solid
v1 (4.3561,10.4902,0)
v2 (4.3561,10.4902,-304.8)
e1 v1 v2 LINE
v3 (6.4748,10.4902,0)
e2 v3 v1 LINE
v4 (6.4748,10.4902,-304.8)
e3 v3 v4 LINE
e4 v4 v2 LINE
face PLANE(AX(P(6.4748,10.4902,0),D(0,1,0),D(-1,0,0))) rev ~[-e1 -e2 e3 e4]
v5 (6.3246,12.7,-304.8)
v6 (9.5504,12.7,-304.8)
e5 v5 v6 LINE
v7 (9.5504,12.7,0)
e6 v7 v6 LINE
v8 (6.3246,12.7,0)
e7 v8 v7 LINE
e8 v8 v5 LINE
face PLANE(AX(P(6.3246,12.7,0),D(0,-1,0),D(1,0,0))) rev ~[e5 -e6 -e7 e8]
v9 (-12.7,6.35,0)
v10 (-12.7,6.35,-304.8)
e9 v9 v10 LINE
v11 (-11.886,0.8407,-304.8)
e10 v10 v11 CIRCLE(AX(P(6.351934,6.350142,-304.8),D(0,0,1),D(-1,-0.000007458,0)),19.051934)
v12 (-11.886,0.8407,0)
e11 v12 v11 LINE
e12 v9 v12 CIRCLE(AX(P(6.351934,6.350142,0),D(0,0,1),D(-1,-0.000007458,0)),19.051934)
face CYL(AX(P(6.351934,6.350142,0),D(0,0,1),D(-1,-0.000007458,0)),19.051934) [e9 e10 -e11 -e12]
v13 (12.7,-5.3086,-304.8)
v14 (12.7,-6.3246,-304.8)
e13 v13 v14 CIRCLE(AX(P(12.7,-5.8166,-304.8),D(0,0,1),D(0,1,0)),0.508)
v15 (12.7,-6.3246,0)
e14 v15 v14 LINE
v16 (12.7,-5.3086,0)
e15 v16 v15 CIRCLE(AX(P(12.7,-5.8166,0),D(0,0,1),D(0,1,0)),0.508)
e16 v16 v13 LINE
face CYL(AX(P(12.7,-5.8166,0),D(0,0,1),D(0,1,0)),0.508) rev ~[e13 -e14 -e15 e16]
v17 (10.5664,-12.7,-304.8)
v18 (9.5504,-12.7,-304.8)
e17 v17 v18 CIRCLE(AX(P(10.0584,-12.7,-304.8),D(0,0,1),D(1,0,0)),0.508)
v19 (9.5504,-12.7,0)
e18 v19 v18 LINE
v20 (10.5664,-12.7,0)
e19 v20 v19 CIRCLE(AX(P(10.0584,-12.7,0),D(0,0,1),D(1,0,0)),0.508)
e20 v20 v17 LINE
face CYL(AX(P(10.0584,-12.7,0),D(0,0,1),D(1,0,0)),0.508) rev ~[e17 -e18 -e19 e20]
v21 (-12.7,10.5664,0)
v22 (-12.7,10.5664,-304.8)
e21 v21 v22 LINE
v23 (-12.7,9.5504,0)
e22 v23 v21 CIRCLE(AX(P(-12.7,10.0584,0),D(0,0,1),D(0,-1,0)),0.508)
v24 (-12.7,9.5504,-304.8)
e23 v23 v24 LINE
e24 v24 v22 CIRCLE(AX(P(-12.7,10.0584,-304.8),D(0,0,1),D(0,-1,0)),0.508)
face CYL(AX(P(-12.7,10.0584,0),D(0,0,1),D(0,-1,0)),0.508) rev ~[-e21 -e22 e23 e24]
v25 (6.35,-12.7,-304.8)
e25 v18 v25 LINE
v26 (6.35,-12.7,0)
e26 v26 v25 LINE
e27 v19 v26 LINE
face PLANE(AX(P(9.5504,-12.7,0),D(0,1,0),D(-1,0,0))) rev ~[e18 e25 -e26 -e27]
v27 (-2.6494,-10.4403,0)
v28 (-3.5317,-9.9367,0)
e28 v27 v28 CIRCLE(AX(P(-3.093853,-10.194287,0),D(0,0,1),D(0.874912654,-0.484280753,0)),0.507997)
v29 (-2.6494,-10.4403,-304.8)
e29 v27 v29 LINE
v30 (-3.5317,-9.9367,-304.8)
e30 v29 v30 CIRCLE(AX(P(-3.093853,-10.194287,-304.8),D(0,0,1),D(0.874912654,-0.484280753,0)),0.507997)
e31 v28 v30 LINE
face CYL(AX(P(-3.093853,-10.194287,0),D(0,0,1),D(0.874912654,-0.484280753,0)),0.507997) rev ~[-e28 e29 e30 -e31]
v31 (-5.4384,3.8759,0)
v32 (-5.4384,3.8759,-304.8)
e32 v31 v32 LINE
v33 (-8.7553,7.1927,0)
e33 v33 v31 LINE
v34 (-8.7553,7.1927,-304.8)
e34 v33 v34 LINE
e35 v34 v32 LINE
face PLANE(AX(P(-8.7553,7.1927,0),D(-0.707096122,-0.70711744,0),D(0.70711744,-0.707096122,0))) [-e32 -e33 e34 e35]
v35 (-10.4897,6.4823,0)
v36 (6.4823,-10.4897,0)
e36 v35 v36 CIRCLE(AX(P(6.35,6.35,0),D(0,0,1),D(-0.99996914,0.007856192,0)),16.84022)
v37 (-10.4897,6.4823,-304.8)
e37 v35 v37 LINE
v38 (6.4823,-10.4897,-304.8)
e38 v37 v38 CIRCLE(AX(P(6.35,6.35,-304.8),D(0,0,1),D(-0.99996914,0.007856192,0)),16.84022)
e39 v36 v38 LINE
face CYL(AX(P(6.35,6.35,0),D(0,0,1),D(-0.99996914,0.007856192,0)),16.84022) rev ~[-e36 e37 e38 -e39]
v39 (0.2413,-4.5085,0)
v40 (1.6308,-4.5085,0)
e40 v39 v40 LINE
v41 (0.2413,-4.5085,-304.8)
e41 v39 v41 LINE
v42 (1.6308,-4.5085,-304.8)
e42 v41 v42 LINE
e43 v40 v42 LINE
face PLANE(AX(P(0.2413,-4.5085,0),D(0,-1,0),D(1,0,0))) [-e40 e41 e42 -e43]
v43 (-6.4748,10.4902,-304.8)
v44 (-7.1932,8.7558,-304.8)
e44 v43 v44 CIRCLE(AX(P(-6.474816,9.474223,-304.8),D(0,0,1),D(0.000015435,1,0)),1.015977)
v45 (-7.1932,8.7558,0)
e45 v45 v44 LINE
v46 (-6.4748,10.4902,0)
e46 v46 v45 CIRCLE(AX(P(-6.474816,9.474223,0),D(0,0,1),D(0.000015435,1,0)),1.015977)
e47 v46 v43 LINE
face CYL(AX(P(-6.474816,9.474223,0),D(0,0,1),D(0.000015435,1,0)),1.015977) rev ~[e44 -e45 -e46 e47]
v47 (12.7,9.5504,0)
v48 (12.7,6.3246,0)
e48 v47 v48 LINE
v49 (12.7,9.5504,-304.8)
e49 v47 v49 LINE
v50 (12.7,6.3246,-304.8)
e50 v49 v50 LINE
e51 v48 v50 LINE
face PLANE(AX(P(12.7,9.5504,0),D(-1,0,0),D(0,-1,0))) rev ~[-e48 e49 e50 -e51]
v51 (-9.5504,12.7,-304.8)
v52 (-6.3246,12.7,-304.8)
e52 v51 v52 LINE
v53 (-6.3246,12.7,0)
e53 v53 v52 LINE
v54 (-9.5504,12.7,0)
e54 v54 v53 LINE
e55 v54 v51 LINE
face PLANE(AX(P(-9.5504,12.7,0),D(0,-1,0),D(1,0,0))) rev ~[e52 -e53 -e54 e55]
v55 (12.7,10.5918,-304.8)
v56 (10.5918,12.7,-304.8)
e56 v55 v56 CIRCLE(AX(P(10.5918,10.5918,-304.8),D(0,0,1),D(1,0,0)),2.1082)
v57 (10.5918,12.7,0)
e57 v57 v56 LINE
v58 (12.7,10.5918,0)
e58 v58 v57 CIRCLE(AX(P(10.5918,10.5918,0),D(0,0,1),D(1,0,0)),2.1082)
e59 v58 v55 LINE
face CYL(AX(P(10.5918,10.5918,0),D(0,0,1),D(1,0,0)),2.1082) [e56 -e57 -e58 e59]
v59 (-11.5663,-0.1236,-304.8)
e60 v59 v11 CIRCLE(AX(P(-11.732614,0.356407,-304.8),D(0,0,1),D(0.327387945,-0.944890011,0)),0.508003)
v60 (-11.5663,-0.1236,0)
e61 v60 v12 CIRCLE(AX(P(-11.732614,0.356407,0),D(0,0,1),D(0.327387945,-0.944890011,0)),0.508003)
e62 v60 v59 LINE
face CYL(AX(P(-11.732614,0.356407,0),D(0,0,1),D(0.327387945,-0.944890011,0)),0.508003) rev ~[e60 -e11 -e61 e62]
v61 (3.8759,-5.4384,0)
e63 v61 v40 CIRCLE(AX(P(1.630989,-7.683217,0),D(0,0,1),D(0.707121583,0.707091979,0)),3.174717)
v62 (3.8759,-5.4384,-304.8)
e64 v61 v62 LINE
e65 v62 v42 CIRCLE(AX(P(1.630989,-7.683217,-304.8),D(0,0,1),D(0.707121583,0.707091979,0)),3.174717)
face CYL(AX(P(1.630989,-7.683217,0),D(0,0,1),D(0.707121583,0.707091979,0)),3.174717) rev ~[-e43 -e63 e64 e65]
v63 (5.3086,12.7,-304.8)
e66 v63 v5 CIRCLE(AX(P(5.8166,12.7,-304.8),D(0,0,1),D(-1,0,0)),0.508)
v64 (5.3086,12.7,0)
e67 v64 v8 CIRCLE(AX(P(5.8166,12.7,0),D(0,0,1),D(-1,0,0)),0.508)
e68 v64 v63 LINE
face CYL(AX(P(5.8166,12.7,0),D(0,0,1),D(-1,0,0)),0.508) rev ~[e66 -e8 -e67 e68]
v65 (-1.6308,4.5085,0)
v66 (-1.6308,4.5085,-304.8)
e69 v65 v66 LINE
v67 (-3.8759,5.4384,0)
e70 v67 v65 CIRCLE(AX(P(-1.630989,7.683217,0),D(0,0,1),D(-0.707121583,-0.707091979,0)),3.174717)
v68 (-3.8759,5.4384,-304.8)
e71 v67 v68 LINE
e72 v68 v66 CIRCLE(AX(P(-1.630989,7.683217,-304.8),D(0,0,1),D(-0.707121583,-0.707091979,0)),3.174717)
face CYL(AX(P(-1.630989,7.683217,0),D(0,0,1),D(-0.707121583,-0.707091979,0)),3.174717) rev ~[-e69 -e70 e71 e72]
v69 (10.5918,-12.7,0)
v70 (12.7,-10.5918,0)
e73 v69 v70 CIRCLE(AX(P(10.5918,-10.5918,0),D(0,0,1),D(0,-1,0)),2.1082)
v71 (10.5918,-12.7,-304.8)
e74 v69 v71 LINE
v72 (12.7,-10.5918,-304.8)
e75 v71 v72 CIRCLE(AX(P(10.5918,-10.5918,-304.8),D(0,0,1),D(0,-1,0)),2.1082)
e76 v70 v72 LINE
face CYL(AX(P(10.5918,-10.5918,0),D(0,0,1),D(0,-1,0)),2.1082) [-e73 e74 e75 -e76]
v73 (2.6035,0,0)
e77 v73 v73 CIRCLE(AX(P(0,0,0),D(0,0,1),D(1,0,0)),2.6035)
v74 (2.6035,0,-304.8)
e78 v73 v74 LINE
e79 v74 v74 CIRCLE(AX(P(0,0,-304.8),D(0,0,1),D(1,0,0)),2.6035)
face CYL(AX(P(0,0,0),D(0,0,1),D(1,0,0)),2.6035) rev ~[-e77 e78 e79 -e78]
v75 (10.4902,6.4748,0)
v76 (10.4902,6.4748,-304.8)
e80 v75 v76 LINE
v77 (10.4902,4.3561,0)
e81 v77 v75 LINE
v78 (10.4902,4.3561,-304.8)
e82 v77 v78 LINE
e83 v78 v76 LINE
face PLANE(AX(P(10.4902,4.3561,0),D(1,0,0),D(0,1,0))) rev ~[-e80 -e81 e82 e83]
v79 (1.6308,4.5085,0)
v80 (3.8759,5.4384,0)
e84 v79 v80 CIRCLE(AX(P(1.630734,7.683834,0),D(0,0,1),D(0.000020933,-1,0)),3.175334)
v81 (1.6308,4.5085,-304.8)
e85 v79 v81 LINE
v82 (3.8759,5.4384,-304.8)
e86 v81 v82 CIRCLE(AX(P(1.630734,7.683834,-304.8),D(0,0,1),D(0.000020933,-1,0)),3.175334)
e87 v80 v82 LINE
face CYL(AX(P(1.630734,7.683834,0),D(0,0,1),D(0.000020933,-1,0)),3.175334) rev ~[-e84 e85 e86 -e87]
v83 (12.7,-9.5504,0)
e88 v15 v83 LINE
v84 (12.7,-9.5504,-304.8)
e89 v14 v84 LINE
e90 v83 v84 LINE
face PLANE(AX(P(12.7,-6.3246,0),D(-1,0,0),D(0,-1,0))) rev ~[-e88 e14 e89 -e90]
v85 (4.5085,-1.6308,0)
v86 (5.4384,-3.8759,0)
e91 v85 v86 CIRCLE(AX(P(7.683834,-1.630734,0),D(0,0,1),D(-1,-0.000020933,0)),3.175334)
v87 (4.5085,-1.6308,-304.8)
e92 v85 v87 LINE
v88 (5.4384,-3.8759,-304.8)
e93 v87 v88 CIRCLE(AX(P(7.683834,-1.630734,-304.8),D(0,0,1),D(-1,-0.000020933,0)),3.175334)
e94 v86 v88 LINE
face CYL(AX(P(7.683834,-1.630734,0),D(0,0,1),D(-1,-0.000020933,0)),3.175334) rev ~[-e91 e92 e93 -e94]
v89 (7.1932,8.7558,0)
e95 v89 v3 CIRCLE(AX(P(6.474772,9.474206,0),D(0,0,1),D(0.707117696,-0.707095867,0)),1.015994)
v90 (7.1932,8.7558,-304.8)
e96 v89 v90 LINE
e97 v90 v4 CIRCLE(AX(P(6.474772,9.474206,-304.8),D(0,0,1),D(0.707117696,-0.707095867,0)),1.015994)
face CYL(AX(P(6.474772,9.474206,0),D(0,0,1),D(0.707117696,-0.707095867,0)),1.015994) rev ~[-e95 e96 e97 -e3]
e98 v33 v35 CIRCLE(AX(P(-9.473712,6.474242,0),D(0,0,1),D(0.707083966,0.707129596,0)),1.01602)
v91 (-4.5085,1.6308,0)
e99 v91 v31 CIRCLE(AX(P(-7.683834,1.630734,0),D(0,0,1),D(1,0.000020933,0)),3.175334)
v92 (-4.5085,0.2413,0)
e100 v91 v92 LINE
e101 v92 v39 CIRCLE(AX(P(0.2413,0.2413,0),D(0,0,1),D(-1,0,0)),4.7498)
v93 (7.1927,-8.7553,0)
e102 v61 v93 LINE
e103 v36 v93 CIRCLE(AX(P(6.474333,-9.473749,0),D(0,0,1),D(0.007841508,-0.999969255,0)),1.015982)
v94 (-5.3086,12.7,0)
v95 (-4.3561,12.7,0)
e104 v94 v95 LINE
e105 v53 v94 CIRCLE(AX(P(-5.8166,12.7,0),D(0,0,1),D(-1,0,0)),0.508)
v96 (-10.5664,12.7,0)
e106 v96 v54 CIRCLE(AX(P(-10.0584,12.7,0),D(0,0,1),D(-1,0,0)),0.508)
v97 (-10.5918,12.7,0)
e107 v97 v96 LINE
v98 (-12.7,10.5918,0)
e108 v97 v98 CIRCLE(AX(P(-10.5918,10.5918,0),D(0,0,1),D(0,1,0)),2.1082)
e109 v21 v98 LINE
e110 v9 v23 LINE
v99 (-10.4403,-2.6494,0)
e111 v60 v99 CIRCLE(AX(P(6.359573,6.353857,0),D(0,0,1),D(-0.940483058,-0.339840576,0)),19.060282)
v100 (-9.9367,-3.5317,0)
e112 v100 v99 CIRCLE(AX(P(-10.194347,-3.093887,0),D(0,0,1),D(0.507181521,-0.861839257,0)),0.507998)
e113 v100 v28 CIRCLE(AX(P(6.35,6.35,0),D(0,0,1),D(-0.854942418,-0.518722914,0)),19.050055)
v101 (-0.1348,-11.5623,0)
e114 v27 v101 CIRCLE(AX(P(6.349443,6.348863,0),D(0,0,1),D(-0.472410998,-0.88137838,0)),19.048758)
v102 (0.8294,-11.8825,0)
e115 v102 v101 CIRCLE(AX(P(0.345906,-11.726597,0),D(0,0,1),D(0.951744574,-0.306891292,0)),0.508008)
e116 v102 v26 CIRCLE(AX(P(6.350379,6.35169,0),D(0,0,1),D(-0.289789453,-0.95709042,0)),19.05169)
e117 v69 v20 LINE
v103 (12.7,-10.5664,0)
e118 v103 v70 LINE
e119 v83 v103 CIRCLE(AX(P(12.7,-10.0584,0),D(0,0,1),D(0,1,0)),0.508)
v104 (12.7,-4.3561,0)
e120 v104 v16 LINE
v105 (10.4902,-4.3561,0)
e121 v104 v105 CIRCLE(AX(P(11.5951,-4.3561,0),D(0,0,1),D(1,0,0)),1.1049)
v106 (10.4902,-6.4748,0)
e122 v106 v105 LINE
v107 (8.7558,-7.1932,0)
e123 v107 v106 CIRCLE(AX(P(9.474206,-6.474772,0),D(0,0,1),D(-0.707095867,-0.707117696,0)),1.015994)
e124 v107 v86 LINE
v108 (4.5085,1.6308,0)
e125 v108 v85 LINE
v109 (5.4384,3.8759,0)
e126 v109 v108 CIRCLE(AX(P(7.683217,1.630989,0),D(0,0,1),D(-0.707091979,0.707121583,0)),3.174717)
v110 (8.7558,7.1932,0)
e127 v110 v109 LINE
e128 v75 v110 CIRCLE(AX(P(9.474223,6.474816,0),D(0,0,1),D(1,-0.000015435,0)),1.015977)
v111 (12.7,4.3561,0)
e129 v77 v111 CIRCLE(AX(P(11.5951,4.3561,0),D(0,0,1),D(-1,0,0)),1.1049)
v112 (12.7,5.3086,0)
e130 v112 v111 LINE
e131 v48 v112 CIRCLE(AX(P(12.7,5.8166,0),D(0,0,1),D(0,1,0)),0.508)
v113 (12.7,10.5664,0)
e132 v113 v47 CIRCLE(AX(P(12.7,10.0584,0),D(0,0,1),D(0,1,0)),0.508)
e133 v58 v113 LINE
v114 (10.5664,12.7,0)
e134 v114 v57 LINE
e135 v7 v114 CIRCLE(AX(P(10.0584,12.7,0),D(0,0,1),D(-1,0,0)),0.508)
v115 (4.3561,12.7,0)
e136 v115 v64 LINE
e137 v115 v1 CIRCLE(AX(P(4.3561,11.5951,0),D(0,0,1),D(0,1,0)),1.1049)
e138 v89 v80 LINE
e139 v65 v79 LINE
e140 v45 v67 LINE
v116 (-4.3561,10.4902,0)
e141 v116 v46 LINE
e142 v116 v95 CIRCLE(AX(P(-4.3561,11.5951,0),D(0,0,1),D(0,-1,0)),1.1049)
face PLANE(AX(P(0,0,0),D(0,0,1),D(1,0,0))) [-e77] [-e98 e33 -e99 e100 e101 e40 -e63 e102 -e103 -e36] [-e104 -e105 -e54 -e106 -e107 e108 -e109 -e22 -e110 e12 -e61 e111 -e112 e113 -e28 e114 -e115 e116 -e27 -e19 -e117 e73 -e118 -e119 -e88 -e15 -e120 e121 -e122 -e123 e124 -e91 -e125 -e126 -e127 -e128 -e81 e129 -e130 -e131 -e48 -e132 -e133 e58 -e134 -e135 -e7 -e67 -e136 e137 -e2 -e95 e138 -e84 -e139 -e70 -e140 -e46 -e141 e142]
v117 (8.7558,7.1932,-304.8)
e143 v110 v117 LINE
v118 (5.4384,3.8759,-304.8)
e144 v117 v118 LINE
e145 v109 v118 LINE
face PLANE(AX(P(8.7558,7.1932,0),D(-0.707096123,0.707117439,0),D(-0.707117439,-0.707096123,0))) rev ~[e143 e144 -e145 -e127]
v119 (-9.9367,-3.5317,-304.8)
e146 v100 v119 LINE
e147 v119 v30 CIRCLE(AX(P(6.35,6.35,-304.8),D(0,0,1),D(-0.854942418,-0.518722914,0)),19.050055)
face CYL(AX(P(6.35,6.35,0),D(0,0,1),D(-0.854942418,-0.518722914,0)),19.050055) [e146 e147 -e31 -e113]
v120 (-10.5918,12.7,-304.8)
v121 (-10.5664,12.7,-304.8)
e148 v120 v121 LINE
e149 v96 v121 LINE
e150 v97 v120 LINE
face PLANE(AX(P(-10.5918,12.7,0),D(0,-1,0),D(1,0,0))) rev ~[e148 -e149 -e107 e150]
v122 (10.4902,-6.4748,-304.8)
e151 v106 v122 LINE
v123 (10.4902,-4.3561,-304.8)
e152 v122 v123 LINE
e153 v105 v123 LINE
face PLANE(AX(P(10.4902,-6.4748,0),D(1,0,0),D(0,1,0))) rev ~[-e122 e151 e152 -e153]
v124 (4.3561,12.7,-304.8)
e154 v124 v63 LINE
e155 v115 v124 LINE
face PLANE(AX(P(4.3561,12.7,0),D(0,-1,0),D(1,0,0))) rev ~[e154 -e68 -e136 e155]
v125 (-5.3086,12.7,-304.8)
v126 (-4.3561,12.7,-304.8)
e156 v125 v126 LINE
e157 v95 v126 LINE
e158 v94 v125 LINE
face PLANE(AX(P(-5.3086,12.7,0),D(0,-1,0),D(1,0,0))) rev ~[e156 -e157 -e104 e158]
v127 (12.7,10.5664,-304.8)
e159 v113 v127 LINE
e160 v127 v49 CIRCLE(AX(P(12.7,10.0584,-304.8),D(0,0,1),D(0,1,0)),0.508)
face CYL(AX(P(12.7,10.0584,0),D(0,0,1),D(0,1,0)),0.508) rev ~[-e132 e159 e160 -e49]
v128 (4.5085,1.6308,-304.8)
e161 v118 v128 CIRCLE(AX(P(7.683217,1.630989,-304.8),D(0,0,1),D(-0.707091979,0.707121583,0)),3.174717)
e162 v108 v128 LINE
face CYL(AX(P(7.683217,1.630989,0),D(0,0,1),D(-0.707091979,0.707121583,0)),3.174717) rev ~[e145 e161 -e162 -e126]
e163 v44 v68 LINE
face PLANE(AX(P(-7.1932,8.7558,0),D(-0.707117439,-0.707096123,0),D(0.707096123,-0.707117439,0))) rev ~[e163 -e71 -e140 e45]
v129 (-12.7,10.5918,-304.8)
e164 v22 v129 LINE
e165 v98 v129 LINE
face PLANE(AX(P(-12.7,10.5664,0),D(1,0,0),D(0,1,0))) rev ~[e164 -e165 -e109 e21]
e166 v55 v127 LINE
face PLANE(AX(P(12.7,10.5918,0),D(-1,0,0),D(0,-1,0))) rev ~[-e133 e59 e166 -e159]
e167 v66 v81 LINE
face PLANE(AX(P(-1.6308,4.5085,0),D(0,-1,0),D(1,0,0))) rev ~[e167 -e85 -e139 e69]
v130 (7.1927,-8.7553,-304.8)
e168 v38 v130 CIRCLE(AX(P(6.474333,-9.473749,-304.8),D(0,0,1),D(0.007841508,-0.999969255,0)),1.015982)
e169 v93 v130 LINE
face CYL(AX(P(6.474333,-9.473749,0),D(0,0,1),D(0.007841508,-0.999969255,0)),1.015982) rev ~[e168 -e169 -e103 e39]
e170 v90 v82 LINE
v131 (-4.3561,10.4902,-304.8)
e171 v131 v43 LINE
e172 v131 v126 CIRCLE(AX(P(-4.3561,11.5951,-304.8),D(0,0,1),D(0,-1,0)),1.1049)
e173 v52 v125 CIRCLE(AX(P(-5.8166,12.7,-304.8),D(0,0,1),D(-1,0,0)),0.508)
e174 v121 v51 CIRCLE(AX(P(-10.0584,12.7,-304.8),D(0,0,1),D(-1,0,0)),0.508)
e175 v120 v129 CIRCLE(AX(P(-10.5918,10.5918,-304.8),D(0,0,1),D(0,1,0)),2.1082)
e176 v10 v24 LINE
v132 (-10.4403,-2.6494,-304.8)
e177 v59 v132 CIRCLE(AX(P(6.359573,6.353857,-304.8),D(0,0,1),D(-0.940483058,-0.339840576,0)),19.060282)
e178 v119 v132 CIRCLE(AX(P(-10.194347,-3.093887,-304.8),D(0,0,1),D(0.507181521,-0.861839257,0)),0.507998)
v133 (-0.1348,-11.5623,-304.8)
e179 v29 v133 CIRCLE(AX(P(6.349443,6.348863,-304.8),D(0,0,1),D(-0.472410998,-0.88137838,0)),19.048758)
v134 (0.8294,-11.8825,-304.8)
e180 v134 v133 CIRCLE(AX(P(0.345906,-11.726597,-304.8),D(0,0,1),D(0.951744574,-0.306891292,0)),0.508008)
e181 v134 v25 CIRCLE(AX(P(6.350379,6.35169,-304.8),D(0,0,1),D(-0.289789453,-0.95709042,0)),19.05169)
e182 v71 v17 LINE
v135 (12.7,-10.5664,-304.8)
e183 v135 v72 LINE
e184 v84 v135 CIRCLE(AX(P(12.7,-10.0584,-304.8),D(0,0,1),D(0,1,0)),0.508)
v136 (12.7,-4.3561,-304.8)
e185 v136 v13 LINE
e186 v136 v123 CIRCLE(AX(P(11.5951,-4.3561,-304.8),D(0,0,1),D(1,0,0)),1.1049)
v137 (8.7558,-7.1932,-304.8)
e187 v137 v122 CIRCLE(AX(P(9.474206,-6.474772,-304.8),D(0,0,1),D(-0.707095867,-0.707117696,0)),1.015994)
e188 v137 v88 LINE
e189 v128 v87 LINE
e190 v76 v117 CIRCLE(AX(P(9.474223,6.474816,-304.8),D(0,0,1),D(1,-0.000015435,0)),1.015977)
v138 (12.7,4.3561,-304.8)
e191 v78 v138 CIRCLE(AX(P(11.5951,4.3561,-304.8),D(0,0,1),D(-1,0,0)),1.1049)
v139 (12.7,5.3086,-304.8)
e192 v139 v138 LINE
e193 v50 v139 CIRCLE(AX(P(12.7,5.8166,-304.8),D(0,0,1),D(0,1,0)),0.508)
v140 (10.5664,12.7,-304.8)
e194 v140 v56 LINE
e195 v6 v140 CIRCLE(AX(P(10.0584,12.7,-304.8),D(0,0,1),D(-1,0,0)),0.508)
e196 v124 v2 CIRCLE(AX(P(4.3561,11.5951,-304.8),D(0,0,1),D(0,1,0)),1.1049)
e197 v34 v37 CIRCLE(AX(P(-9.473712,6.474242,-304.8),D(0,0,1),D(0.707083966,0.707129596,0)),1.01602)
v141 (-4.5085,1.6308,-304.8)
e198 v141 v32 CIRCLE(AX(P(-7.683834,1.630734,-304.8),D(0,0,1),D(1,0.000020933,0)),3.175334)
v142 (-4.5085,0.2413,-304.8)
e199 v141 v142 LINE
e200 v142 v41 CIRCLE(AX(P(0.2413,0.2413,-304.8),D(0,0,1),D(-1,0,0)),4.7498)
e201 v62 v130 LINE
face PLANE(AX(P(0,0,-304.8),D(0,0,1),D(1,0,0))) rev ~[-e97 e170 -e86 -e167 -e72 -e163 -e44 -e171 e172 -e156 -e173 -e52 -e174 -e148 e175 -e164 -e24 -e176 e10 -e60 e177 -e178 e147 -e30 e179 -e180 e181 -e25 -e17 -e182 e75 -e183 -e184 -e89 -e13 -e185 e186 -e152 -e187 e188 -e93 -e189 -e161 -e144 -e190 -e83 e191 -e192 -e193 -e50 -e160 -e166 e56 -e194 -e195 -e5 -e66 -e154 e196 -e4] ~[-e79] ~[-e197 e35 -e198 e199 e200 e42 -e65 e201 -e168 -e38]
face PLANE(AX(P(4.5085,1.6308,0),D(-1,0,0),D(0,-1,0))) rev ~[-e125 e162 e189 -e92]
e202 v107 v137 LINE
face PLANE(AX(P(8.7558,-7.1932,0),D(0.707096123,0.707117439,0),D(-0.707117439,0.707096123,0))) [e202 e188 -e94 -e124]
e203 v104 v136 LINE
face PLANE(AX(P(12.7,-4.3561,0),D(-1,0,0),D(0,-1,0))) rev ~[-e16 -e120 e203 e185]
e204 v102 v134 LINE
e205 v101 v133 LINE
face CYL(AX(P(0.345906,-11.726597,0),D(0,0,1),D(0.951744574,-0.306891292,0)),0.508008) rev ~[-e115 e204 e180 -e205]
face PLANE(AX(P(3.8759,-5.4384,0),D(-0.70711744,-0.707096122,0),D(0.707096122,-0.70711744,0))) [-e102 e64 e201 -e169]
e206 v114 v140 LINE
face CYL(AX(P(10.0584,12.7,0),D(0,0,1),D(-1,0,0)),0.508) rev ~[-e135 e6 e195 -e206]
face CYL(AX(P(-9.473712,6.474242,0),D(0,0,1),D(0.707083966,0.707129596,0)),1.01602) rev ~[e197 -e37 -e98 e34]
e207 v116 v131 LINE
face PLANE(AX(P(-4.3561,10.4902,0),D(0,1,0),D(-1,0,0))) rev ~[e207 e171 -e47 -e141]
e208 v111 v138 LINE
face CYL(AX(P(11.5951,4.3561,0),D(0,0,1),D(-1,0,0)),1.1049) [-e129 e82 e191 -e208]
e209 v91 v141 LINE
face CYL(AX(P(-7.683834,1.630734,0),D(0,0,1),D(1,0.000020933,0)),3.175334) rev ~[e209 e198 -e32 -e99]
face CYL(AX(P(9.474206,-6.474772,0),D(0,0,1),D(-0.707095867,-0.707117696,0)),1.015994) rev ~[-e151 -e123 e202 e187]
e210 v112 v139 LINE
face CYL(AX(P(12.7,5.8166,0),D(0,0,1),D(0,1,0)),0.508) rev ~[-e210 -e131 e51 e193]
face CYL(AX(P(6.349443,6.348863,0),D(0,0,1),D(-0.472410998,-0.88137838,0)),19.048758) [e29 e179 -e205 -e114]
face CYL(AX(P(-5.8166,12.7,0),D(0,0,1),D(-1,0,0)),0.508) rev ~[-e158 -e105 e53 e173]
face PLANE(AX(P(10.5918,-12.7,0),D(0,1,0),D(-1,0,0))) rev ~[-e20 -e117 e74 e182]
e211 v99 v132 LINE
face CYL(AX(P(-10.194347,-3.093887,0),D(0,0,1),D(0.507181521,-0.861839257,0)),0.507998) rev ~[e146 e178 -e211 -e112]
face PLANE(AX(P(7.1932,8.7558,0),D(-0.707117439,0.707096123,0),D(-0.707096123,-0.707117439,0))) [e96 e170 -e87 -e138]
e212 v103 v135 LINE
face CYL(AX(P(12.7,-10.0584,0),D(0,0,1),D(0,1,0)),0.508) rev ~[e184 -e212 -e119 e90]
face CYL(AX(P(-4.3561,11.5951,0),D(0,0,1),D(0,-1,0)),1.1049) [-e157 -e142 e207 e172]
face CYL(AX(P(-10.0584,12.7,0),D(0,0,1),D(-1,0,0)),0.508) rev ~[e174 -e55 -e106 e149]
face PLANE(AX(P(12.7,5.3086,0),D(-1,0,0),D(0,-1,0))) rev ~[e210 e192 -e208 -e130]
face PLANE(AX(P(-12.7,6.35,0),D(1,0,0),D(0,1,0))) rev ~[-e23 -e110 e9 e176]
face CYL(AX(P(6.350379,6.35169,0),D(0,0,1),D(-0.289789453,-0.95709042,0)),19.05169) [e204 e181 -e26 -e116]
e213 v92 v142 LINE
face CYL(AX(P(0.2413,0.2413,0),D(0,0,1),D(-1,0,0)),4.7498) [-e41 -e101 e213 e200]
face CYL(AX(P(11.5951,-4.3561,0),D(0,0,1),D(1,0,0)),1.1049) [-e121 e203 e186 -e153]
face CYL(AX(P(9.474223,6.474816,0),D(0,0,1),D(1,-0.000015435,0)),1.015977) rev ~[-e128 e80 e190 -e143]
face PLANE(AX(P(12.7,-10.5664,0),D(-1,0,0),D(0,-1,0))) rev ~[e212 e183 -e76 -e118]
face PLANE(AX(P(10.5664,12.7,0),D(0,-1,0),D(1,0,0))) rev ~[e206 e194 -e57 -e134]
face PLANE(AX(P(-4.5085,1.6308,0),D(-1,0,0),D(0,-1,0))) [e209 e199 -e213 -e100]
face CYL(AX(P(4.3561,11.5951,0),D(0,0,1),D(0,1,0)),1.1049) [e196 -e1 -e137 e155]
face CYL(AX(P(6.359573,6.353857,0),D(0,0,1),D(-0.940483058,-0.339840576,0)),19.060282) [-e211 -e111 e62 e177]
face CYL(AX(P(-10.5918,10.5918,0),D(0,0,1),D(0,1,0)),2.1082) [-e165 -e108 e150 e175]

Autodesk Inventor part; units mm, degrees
ref_plane "YZ Plane" through (0, 0, 0) normal (1, 0, 0) x (0, 1, 0)
ref_plane "XZ Plane" through (0, 0, 0) normal (0, 1, 0) x (-1, 0, 0)
ref_plane "XY Plane" through (0, 0, 0) normal (0, 0, 1) x (1, 0, 0)
sketch "Sketch1" plane through (0, 0, 0) normal (0, 0, 1) x (1, 0, 0)
  arc A0 (-11.5663, -0.1236) -> (-11.886, 0.8407) centre (-11.7326, 0.3564) ccw
  arc A1 (-11.5663, -0.1236) -> (-10.4403, -2.6494) centre (6.35, 6.35) ccw
  arc A2 (-12.7, 6.35) -> (-11.886, 0.8407) centre (6.35, 6.35) ccw
  arc A3 (-9.9367, -3.5317) -> (-10.4403, -2.6494) centre (-10.1943, -3.0939) ccw
  line L0 (-12.7, 6.35) -> (-12.7, 9.5504)
  arc A4 (-9.9367, -3.5317) -> (-3.5317, -9.9367) centre (6.35, 6.35) ccw
  arc A5 (-12.7, 9.5504) -> (-12.7, 10.5664) centre (-12.7, 10.0584) ccw
  arc A6 (-2.6494, -10.4403) -> (-3.5317, -9.9367) centre (-3.0939, -10.1943) ccw
  line L1 (-12.7, 10.5664) -> (-12.7, 10.5918)
  arc A7 (-2.6494, -10.4403) -> (-0.1348, -11.5623) centre (6.35, 6.35) ccw
  arc A8 (-10.5918, 12.7) -> (-12.7, 10.5918) centre (-10.5918, 10.5918) ccw
  arc A9 (0.8294, -11.8825) -> (-0.1348, -11.5623) centre (0.3459, -11.7266) ccw
  line L2 (-10.5918, 12.7) -> (-10.5664, 12.7)
  arc A10 (0.8294, -11.8825) -> (6.35, -12.7) centre (6.35, 6.35) ccw
  arc A11 (-10.5664, 12.7) -> (-9.5504, 12.7) centre (-10.0584, 12.7) ccw
  line L3 (9.5504, -12.7) -> (6.35, -12.7)
  line L4 (-9.5504, 12.7) -> (-6.3246, 12.7)
  arc A12 (10.5664, -12.7) -> (9.5504, -12.7) centre (10.0584, -12.7) ccw
  arc A13 (-6.3246, 12.7) -> (-5.3086, 12.7) centre (-5.8166, 12.7) ccw
  line L5 (10.5918, -12.7) -> (10.5664, -12.7)
  line L6 (-5.3086, 12.7) -> (-4.3561, 12.7)
  arc A14 (10.5918, -12.7) -> (12.7, -10.5918) centre (10.5918, -10.5918) ccw
  arc A15 (-4.3561, 10.4902) -> (-4.3561, 12.7) centre (-4.3561, 11.5951) ccw
  line L7 (12.7, -10.5664) -> (12.7, -10.5918)
  line L8 (-4.3561, 10.4902) -> (-6.4748, 10.4902)
  arc A16 (12.7, -9.5504) -> (12.7, -10.5664) centre (12.7, -10.0584) ccw
  arc A17 (-6.4748, 10.4902) -> (-7.1932, 8.7558) centre (-6.4748, 9.4742) ccw
  line L9 (12.7, -6.3246) -> (12.7, -9.5504)
  line L10 (-7.1932, 8.7558) -> (-3.8759, 5.4384)
  arc A18 (12.7, -5.3086) -> (12.7, -6.3246) centre (12.7, -5.8166) ccw
  arc A19 (-3.8759, 5.4384) -> (-1.6308, 4.5085) centre (-1.6308, 7.6835) ccw
  line L11 (12.7, -4.3561) -> (12.7, -5.3086)
  line L12 (-1.6308, 4.5085) -> (1.6308, 4.5085)
  arc A20 (12.7, -4.3561) -> (10.4902, -4.3561) centre (11.5951, -4.3561) ccw
  arc A21 (1.6308, 4.5085) -> (3.8759, 5.4384) centre (1.6308, 7.6835) ccw
  line L13 (10.4902, -6.4748) -> (10.4902, -4.3561)
  line L14 (7.1932, 8.7558) -> (3.8759, 5.4384)
  arc A22 (8.7558, -7.1932) -> (10.4902, -6.4748) centre (9.4742, -6.4748) ccw
  arc A23 (7.1932, 8.7558) -> (6.4748, 10.4902) centre (6.4748, 9.4742) ccw
  line L15 (8.7558, -7.1932) -> (5.4384, -3.8759)
  line L16 (6.4748, 10.4902) -> (4.3561, 10.4902)
  arc A24 (4.5085, -1.6308) -> (5.4384, -3.8759) centre (7.6835, -1.6308) ccw
  arc A25 (4.3561, 12.7) -> (4.3561, 10.4902) centre (4.3561, 11.5951) ccw
  line L17 (4.5085, 1.6308) -> (4.5085, -1.6308)
  line L18 (4.3561, 12.7) -> (5.3086, 12.7)
  arc A26 (5.4384, 3.8759) -> (4.5085, 1.6308) centre (7.6835, 1.6308) ccw
  arc A27 (5.3086, 12.7) -> (6.3246, 12.7) centre (5.8166, 12.7) ccw
  line L19 (8.7558, 7.1932) -> (5.4384, 3.8759)
  line L20 (6.3246, 12.7) -> (9.5504, 12.7)
  arc A28 (10.4902, 6.4748) -> (8.7558, 7.1932) centre (9.4742, 6.4748) ccw
  arc A29 (9.5504, 12.7) -> (10.5664, 12.7) centre (10.0584, 12.7) ccw
  line L21 (10.4902, 4.3561) -> (10.4902, 6.4748)
  line L22 (10.5664, 12.7) -> (10.5918, 12.7)
  arc A30 (10.4902, 4.3561) -> (12.7, 4.3561) centre (11.5951, 4.3561) ccw
  arc A31 (12.7, 10.5918) -> (10.5918, 12.7) centre (10.5918, 10.5918) ccw
  line L23 (12.7, 5.3086) -> (12.7, 4.3561)
  line L24 (12.7, 10.5918) -> (12.7, 10.5664)
  arc A32 (12.7, 6.3246) -> (12.7, 5.3086) centre (12.7, 5.8166) ccw
  arc A33 (12.7, 10.5664) -> (12.7, 9.5504) centre (12.7, 10.0584) ccw
  line L25 (12.7, 9.5504) -> (12.7, 6.3246)
  arc A34 (-4.5085, 0.2413) -> (0.2413, -4.5085) centre (0.2413, 0.2413) ccw
  line L26 (0.2413, -4.5085) -> (1.6308, -4.5085)
  line L27 (-4.5085, 1.6308) -> (-4.5085, 0.2413)
  arc A35 (3.8759, -5.4384) -> (1.6308, -4.5085) centre (1.6308, -7.6835) ccw
  arc A36 (-4.5085, 1.6308) -> (-5.4384, 3.8759) centre (-7.6835, 1.6308) ccw
  line L28 (3.8759, -5.4384) -> (7.1927, -8.7553)
  line L29 (-8.7553, 7.1927) -> (-5.4384, 3.8759)
  arc A37 (6.4823, -10.4897) -> (7.1927, -8.7553) centre (6.4743, -9.4737) ccw
  arc A38 (-8.7553, 7.1927) -> (-10.4897, 6.4823) centre (-9.4737, 6.4743) ccw
  arc A39 (-10.4897, 6.4823) -> (6.4823, -10.4897) centre (6.35, 6.35) ccw
  circle A40 centre (0, 0) radius 2.6035
extrude "Extrusion1" add sketch "Sketch1" against normal blind 304.8
properties part number "1012"
